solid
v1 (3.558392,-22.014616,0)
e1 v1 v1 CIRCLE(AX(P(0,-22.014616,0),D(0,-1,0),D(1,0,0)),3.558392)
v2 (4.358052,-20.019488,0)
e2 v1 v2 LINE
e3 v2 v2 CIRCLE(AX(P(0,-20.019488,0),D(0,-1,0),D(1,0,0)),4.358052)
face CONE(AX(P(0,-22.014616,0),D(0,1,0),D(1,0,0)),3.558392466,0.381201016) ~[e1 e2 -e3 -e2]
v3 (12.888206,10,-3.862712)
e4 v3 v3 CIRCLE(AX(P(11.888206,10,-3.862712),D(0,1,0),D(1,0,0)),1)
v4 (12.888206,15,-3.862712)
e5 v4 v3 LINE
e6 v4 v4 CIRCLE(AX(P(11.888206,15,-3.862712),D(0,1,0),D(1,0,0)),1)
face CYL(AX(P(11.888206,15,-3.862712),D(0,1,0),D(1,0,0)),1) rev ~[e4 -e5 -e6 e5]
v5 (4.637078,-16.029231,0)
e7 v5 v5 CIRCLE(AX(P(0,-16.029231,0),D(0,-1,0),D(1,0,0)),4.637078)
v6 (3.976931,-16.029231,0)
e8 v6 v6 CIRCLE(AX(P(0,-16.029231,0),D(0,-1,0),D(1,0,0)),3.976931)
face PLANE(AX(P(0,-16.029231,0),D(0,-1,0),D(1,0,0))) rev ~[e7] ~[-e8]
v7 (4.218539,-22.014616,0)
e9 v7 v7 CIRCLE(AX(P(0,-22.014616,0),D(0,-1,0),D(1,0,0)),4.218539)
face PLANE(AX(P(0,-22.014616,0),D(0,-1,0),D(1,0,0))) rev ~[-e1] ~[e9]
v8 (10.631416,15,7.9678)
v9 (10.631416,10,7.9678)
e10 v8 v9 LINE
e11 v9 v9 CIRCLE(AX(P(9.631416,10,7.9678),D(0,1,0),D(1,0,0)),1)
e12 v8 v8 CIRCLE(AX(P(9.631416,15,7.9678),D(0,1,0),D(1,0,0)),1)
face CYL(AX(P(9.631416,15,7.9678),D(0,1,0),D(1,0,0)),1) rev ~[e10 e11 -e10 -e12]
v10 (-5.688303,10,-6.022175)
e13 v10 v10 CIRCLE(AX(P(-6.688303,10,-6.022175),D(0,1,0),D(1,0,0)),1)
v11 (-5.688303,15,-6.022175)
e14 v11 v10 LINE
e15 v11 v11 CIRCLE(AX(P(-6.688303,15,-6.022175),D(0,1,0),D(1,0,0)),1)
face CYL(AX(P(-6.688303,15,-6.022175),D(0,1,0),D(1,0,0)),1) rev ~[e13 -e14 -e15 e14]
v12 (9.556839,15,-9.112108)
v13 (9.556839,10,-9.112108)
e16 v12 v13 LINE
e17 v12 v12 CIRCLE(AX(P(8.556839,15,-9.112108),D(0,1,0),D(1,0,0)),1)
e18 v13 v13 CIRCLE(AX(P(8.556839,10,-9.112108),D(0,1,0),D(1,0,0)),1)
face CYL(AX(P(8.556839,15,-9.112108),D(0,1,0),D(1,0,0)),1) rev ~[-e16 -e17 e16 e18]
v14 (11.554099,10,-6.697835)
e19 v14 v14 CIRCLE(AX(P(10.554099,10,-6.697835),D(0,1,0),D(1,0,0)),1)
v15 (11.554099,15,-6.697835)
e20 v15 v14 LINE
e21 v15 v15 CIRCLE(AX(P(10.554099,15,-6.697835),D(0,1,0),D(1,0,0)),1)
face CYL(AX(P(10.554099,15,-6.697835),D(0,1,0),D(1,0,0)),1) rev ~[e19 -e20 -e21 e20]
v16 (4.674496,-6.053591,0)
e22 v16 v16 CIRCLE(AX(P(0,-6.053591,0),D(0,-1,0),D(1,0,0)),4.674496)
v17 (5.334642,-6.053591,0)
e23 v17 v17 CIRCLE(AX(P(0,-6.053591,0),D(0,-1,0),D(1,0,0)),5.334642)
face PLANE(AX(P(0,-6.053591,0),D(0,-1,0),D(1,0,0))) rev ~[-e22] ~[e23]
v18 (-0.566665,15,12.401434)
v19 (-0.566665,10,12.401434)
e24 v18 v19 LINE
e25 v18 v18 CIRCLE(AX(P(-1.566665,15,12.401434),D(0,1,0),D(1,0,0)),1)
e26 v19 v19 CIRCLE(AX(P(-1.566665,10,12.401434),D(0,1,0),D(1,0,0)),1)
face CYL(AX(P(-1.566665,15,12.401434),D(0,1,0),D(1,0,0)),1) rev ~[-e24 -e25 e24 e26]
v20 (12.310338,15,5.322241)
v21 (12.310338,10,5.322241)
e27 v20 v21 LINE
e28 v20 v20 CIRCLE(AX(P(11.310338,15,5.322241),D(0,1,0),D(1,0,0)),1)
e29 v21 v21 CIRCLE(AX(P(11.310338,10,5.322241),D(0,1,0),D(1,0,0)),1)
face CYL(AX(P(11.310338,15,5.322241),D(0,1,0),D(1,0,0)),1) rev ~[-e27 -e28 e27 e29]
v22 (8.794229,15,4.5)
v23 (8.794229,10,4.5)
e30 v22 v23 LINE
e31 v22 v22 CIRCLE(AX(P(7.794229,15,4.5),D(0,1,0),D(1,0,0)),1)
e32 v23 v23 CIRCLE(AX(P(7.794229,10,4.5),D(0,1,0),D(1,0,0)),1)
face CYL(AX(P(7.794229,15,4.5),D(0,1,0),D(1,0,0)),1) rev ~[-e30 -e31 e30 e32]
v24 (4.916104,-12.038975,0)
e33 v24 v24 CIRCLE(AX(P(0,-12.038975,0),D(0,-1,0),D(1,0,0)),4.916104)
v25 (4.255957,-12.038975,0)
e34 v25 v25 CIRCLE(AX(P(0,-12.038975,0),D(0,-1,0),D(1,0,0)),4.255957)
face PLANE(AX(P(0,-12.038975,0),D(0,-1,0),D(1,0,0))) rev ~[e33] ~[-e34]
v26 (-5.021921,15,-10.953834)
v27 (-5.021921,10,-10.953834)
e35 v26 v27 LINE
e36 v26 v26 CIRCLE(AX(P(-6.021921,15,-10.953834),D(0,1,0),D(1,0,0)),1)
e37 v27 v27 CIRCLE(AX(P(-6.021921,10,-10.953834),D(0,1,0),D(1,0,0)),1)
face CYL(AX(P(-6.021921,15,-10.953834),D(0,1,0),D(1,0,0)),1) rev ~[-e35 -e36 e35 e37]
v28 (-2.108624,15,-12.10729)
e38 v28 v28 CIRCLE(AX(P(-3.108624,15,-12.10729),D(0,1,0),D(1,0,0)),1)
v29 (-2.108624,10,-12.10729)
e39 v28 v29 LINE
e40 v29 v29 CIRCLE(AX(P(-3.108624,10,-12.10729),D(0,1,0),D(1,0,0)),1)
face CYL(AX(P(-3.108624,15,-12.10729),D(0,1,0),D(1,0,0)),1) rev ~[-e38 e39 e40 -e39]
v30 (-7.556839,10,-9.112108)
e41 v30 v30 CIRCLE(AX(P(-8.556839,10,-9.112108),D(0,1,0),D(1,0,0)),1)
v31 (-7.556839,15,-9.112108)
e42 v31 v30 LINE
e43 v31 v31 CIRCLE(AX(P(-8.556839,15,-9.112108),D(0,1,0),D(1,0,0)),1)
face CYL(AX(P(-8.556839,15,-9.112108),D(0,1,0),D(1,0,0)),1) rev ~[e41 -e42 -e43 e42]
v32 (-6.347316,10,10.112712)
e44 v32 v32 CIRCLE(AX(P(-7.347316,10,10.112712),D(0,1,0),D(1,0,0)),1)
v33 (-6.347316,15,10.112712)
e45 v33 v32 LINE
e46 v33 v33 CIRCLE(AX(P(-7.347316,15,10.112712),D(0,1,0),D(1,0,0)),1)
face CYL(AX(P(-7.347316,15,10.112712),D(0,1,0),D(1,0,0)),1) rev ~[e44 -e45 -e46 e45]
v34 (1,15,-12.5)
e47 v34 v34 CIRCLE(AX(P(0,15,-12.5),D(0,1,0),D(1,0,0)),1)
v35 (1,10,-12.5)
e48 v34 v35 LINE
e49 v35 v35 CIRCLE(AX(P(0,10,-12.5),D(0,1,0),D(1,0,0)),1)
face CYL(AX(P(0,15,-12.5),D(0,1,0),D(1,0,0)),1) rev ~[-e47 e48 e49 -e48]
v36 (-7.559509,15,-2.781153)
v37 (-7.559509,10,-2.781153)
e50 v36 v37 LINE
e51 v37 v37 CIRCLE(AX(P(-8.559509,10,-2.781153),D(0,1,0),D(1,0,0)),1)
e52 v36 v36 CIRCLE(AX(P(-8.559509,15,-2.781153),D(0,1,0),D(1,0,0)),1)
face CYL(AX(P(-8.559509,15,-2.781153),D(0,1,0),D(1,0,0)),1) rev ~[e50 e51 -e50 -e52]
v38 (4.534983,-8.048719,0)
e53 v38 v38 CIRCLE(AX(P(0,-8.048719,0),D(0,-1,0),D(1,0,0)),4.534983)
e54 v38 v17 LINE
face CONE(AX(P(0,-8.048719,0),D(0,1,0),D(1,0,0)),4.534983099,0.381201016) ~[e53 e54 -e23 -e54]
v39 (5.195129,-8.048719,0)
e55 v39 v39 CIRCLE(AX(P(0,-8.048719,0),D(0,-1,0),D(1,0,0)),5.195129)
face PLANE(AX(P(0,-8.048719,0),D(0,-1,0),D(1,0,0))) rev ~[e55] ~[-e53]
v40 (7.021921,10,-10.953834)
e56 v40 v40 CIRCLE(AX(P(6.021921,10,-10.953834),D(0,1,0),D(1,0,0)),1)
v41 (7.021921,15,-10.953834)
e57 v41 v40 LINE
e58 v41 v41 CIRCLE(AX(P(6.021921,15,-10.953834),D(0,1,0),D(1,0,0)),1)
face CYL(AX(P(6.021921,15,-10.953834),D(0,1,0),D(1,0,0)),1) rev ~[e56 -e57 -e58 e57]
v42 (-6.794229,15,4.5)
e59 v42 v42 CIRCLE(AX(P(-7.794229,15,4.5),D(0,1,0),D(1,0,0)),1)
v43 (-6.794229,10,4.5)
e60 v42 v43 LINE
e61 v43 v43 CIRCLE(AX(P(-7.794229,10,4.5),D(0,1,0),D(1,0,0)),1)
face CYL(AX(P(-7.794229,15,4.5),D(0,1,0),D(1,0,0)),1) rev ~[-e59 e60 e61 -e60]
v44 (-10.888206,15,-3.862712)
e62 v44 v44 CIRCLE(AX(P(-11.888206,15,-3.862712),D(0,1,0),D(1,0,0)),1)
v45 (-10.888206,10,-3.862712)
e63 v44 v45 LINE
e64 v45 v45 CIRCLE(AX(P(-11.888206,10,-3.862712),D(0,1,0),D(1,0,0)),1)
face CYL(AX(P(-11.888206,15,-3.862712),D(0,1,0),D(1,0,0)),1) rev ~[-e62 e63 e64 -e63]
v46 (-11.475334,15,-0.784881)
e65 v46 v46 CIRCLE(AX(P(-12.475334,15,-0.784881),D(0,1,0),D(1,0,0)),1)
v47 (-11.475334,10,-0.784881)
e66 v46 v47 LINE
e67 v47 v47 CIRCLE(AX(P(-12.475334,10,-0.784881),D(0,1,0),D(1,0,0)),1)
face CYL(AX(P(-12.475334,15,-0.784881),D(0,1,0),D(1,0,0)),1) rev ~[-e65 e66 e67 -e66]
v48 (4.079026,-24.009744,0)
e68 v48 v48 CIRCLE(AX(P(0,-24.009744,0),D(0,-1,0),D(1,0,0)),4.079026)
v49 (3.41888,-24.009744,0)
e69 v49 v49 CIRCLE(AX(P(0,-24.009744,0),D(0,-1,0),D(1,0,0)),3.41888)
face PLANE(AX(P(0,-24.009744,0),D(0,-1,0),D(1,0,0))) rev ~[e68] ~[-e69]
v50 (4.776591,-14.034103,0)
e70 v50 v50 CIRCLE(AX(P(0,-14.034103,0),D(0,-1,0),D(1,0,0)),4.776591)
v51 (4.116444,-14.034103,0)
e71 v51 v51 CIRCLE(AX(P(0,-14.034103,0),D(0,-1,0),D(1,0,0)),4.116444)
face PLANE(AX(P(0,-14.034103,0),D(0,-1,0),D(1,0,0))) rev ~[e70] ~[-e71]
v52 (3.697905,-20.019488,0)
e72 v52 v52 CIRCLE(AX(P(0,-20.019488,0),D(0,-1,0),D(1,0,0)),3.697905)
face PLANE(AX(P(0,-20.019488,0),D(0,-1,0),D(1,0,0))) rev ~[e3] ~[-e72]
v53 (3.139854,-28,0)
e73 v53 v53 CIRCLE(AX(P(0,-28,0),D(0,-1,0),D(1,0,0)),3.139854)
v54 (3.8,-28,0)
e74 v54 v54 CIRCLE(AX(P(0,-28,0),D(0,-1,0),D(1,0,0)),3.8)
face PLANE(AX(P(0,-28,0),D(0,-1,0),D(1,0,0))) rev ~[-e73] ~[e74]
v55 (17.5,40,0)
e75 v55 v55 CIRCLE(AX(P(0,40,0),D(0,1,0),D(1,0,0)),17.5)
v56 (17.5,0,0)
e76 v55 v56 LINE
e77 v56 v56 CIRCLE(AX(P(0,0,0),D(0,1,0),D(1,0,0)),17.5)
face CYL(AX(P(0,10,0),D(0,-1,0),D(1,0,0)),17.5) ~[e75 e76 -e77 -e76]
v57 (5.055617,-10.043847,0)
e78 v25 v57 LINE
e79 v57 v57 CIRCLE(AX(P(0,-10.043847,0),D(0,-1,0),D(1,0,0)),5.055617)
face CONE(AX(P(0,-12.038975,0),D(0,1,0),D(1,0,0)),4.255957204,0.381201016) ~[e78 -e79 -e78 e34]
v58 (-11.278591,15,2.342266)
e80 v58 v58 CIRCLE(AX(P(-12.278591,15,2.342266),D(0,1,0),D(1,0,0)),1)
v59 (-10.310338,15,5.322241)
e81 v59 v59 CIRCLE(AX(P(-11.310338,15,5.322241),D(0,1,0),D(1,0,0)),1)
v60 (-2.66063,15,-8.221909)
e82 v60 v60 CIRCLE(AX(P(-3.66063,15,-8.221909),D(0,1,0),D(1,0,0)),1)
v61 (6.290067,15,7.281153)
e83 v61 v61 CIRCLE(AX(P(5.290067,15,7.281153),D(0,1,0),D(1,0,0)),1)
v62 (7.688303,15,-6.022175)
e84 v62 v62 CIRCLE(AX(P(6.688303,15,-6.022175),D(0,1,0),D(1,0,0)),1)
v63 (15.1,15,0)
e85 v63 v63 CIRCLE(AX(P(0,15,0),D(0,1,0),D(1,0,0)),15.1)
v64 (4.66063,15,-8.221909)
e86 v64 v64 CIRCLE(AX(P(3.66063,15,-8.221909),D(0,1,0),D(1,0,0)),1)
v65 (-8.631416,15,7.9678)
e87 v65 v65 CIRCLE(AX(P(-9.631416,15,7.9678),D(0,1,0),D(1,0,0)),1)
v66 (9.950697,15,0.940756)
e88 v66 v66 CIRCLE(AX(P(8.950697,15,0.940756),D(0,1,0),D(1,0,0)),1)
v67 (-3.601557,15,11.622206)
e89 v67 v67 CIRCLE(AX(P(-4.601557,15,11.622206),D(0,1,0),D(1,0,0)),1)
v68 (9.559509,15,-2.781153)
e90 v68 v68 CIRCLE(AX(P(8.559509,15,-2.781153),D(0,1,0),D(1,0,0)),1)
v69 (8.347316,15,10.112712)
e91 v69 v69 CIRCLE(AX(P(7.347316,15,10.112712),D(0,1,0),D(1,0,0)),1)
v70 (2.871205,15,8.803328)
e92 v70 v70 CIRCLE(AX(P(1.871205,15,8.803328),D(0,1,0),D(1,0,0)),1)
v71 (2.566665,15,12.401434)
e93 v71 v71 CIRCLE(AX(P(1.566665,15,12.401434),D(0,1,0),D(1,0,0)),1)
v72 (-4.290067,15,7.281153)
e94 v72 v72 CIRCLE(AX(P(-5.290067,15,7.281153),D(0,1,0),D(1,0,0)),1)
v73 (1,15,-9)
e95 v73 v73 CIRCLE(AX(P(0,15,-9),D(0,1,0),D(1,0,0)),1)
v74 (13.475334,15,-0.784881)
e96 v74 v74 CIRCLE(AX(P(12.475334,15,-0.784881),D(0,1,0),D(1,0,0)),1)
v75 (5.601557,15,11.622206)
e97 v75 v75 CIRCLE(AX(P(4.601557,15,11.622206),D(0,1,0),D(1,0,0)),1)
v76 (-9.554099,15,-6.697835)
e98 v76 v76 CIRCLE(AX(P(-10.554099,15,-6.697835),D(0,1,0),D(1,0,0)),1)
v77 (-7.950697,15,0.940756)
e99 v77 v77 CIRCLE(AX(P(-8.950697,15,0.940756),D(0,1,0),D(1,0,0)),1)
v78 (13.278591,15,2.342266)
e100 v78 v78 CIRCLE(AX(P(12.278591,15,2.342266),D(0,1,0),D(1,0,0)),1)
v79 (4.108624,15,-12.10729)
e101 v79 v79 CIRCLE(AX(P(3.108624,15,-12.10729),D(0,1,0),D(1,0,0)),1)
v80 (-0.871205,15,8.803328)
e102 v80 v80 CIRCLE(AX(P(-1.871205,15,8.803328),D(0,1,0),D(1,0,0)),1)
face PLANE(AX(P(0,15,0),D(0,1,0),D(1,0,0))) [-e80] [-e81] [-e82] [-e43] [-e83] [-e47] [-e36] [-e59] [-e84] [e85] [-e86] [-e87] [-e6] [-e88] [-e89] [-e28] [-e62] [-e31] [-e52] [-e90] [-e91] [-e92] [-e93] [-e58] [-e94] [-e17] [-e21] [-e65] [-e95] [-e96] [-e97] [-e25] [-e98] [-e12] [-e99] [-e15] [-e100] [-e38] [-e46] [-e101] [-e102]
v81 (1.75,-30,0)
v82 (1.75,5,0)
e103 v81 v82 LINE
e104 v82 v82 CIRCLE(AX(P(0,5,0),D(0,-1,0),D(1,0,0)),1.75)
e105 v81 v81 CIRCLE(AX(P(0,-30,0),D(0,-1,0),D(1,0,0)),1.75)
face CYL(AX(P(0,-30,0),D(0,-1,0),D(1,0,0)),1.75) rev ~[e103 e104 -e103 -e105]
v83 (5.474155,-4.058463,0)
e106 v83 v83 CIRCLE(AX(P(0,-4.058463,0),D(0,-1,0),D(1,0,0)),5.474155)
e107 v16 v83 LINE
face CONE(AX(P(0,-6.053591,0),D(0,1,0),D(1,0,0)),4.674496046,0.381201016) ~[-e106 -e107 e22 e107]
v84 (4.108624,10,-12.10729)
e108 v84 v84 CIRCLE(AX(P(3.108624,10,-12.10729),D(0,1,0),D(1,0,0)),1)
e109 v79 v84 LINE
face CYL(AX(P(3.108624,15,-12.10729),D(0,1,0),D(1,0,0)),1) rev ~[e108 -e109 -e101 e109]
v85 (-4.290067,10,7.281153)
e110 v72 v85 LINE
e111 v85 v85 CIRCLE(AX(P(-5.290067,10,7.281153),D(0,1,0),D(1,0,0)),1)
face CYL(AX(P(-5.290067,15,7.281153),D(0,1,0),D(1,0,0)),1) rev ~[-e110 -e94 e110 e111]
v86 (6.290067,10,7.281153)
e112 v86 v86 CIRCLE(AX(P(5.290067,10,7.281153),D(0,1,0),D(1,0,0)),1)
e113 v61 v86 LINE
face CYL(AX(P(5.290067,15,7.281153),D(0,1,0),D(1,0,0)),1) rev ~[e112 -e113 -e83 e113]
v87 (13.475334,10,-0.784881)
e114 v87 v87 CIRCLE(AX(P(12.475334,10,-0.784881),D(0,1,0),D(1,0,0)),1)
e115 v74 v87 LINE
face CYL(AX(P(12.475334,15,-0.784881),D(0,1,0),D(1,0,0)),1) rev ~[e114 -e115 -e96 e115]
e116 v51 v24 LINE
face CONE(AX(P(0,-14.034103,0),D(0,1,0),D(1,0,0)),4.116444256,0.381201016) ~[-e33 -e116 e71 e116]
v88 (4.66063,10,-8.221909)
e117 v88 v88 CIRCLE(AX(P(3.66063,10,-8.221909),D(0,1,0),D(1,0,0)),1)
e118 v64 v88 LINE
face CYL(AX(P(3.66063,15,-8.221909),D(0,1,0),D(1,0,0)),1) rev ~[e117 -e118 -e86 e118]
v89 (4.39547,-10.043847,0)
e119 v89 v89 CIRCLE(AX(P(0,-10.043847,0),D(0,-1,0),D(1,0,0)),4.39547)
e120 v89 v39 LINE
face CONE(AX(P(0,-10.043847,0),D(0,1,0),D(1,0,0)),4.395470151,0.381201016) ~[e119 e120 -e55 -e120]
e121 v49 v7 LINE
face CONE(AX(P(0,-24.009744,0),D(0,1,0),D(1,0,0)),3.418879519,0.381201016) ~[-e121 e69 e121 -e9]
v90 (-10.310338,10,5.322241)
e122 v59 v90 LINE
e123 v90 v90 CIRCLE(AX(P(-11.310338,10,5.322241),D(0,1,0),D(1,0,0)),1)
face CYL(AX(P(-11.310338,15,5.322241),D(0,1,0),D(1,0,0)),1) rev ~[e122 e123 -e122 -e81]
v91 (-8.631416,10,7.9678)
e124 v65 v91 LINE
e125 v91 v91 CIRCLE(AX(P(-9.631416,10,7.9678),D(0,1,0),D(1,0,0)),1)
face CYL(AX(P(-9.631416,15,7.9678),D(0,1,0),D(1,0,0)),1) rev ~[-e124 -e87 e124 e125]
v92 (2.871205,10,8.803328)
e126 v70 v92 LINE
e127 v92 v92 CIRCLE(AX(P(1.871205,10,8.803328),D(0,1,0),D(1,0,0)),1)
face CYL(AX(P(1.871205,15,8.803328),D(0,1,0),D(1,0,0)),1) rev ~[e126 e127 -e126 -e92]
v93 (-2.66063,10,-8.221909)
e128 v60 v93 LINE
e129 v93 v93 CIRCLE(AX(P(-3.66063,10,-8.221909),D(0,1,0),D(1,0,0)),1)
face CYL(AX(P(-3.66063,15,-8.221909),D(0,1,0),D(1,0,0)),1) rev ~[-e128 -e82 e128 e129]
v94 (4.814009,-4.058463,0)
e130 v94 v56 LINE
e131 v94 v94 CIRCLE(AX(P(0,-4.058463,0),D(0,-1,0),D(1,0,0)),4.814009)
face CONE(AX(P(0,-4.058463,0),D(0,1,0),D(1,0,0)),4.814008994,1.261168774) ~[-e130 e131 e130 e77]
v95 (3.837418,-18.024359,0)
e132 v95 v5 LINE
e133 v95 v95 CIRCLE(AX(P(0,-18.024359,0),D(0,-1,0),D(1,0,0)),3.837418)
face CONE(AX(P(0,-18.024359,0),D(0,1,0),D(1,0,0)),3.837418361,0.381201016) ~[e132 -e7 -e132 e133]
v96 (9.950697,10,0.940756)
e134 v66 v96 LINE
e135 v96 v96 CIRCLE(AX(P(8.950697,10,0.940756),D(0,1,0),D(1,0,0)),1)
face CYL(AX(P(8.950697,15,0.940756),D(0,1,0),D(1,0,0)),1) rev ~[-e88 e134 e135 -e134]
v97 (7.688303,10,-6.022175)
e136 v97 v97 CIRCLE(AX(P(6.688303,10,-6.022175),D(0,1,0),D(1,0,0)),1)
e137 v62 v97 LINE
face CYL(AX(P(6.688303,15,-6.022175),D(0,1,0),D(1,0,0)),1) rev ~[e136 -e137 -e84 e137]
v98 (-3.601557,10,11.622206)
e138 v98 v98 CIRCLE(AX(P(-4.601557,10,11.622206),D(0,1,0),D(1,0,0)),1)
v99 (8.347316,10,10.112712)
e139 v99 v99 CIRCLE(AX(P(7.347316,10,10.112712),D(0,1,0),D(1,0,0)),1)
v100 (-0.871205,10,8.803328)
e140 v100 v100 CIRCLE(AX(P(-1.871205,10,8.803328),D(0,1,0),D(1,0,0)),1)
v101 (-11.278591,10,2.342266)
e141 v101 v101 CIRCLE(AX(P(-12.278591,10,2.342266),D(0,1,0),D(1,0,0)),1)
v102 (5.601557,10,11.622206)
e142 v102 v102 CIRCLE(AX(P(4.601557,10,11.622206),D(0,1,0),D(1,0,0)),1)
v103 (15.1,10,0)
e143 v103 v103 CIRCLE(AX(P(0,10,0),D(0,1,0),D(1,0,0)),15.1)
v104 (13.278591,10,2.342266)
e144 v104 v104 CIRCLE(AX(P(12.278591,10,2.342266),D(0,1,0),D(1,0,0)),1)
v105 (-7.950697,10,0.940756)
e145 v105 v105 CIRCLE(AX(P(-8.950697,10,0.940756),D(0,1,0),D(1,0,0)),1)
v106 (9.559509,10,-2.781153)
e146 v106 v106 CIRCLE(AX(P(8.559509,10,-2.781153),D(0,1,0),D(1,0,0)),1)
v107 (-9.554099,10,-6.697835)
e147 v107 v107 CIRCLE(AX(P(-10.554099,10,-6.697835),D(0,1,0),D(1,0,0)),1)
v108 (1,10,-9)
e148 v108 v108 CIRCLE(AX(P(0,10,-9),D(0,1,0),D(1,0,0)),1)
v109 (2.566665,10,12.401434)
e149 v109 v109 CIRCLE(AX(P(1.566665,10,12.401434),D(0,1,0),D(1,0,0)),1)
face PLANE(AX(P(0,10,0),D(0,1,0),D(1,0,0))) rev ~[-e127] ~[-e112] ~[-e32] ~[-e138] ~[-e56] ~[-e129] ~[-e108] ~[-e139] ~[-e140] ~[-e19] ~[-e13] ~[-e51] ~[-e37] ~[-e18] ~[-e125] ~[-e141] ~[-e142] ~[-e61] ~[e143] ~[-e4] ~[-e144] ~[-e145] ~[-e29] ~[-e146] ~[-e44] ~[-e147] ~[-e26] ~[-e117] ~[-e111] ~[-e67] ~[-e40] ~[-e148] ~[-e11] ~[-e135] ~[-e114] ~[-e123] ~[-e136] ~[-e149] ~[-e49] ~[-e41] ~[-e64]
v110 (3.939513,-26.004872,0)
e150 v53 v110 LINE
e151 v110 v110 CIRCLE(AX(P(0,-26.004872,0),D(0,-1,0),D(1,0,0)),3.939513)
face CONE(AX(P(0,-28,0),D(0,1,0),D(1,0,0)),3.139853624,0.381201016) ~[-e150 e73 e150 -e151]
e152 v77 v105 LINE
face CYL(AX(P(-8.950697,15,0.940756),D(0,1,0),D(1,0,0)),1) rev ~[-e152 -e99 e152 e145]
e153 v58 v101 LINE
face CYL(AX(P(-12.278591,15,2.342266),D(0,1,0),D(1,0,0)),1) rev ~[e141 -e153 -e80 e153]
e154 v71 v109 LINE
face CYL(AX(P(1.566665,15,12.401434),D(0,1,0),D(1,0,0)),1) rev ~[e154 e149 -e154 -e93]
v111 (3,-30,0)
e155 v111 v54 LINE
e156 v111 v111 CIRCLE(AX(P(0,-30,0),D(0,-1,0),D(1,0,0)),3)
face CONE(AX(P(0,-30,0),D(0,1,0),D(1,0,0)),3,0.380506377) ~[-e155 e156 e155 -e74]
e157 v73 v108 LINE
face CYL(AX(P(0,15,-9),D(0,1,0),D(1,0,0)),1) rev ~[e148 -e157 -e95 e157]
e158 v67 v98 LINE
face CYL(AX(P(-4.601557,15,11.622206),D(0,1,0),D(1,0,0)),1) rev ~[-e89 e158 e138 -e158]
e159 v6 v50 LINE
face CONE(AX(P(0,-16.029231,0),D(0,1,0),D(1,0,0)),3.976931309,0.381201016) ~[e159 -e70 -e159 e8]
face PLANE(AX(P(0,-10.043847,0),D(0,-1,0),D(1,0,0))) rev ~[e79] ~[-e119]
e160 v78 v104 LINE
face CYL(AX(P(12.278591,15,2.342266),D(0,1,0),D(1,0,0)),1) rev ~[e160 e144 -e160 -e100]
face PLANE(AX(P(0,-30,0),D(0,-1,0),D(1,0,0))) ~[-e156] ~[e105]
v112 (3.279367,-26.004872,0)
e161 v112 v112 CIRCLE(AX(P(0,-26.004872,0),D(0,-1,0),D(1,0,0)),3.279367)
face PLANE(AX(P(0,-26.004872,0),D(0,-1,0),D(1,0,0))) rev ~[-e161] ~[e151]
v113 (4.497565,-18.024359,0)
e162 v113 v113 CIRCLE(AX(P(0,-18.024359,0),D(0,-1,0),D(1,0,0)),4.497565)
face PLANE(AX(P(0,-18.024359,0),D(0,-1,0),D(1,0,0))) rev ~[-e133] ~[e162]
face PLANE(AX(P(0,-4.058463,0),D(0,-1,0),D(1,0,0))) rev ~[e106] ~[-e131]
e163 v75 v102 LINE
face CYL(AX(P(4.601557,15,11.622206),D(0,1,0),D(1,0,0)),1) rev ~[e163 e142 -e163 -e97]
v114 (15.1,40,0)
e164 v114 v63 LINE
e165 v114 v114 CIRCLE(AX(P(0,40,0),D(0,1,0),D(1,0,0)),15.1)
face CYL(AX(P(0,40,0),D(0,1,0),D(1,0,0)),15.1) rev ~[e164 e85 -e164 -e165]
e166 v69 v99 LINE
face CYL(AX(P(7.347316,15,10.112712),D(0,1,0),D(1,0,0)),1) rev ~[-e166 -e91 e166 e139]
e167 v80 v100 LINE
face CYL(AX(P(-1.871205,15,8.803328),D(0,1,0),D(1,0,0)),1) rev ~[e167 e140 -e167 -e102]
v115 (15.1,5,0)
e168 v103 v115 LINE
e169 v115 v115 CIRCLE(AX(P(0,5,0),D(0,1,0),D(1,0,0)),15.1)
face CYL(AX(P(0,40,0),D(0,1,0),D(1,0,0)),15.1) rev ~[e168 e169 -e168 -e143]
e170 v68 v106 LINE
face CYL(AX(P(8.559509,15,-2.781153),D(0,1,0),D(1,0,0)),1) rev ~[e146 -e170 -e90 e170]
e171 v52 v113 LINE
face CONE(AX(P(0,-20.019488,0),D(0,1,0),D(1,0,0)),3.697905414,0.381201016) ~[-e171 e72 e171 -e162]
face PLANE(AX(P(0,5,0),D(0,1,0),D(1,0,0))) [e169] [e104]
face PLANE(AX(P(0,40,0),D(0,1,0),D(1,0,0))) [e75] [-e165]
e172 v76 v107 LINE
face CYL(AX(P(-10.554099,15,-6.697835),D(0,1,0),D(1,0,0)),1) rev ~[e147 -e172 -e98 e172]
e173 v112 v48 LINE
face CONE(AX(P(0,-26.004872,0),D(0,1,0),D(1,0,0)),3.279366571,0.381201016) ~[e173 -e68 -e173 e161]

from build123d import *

# Parameters (mm, degrees)
SKETCH_1_R          = 17.5
EXTRUDE_1_DEPTH     = 40
SKETCH_2_R          = 15.1
CUT_EXTRUDE_1_DEPTH = 35
SKETCH_5_R          = 1.75
CUT_EXTRUDE_2_DEPTH = 71
SKETCH_8_R          = 17.5
EXTRUDE_2_DEPTH     = 5
SKETCH_11_R         = 1
CUT_EXTRUDE_3_DEPTH = 5


with BuildPart() as part:
    # 草图1 → 凸台-拉伸1 (new body)
    with BuildSketch(Plane(origin=(0, 0, 0), x_dir=(1, 0, 0), z_dir=(0, 1, 0))):
        Circle(SKETCH_1_R)
    extrude(amount=EXTRUDE_1_DEPTH)

    # 草图2 → 切除-拉伸1 (cut)
    with BuildSketch(Plane(origin=(0, 40, 0), x_dir=(1, 0, 0), z_dir=(0, 1, 0))):
        Circle(SKETCH_2_R)
    extrude(amount=-CUT_EXTRUDE_1_DEPTH, mode=Mode.SUBTRACT)

    # 草图4 → 旋转1 (revolve)
    with BuildSketch(Plane.XY):
        Polygon((0, 0), (0, -30), (3, -30), (3.8, -28), (3.139853624, -28), (3.939512947, -26.004871899), (3.279366571, -26.004871899), (4.079025895, -24.009743799), (3.418879519, -24.009743799), (4.218538842, -22.014615698), (3.558392466, -22.014615698), (4.35805179, -20.019487598), (3.697905414, -20.019487598), (4.497564737, -18.024359497), (3.837418361, -18.024359497), (4.637077685, -16.029231397), (3.976931309, -16.029231397), (4.776590632, -14.034103296), (4.116444256, -14.034103296), (4.91610358, -12.038975196), (4.255957204, -12.038975196), (5.055616527, -10.043847095), (4.395470151, -10.043847095), (5.195129475, -8.048718995), (4.534983099, -8.048718995), (5.334642422, -6.053590894), (4.674496046, -6.053590894), (5.47415537, -4.058462794), (4.814008994, -4.058462794), (17.5, 0), align=None)
    revolve(axis=Axis((0, 0, 0), (0, -1, 0)))

    # 草图5 → 切除-拉伸2 (cut, through all)
    with BuildSketch(Plane.XZ.offset(30)):
        Circle(SKETCH_5_R)
    extrude(amount=-CUT_EXTRUDE_2_DEPTH, mode=Mode.SUBTRACT)

    # 草图8 → 凸台-拉伸2 (add)
    with BuildSketch(Plane(origin=(0, 10, 0), x_dir=(1, 0, 0), z_dir=(0, 1, 0))):
        Circle(SKETCH_8_R)
    extrude(amount=EXTRUDE_2_DEPTH)

    # 草图11 → 切除-拉伸3 (cut)
    with BuildSketch(Plane(origin=(0, 15, 0), x_dir=(1, 0, 0), z_dir=(0, 1, 0))):
        with Locations((0, 9)):
            Circle(SKETCH_11_R)
        with Locations((3.660629788, 8.221909119)):
            Circle(SKETCH_11_R)
        with Locations((6.688303429, 6.022175457)):
            Circle(SKETCH_11_R)
        with Locations((8.559508647, 2.781152949)):
            Circle(SKETCH_11_R)
        with Locations((8.950697058, -0.940756169)):
            Circle(SKETCH_11_R)
        with Locations((7.794228634, -4.5)):
            Circle(SKETCH_11_R)
        with Locations((5.290067271, -7.281152949)):
            Circle(SKETCH_11_R)
        with Locations((1.871205217, -8.803328407)):
            Circle(SKETCH_11_R)
        with Locations((-1.871205217, -8.803328407)):
            Circle(SKETCH_11_R)
        with Locations((-5.290067271, -7.281152949)):
            Circle(SKETCH_11_R)
        with Locations((-7.794228634, -4.5)):
            Circle(SKETCH_11_R)
        with Locations((-8.950697058, -0.940756169)):
            Circle(SKETCH_11_R)
        with Locations((-8.559508647, 2.781152949)):
            Circle(SKETCH_11_R)
        with Locations((-6.688303429, 6.022175457)):
            Circle(SKETCH_11_R)
        with Locations((-3.660629788, 8.221909119)):
            Circle(SKETCH_11_R)
        with Locations((0, 12.5)):
            Circle(SKETCH_11_R)
        with Locations((3.10862359, 12.107289514)):
            Circle(SKETCH_11_R)
        with Locations((6.021920926, 10.953833501)):
            Circle(SKETCH_11_R)
        with Locations((8.556838824, 9.112107843)):
            Circle(SKETCH_11_R)
        with Locations((10.554099069, 6.697834937)):
            Circle(SKETCH_11_R)
        with Locations((11.888206454, 3.86271243)):
            Circle(SKETCH_11_R)
        with Locations((12.475334105, 0.784881494)):
            Circle(SKETCH_11_R)
        with Locations((12.278590634, -2.342266432)):
            Circle(SKETCH_11_R)
        with Locations((11.310338156, -5.322241145)):
            Circle(SKETCH_11_R)
        with Locations((9.631415535, -7.967799872)):
            Circle(SKETCH_11_R)
        with Locations((7.347315654, -10.11271243)):
            Circle(SKETCH_11_R)
        with Locations((4.601556909, -11.622206074)):
            Circle(SKETCH_11_R)
        with Locations((1.56666542, -12.401433766)):
            Circle(SKETCH_11_R)
        with Locations((-1.56666542, -12.401433766)):
            Circle(SKETCH_11_R)
        with Locations((-4.601556909, -11.622206074)):
            Circle(SKETCH_11_R)
        with Locations((-7.347315654, -10.11271243)):
            Circle(SKETCH_11_R)
        with Locations((-9.631415535, -7.967799872)):
            Circle(SKETCH_11_R)
        with Locations((-11.310338156, -5.322241145)):
            Circle(SKETCH_11_R)
        with Locations((-12.278590634, -2.342266432)):
            Circle(SKETCH_11_R)
        with Locations((-12.475334105, 0.784881494)):
            Circle(SKETCH_11_R)
        with Locations((-11.888206454, 3.86271243)):
            Circle(SKETCH_11_R)
        with Locations((-10.554099069, 6.697834937)):
            Circle(SKETCH_11_R)
        with Locations((-8.556838824, 9.112107843)):
            Circle(SKETCH_11_R)
        with Locations((-6.021920926, 10.953833501)):
            Circle(SKETCH_11_R)
        with Locations((-3.10862359, 12.107289514)):
            Circle(SKETCH_11_R)
    extrude(amount=-CUT_EXTRUDE_3_DEPTH, mode=Mode.SUBTRACT)


solid = part.part
